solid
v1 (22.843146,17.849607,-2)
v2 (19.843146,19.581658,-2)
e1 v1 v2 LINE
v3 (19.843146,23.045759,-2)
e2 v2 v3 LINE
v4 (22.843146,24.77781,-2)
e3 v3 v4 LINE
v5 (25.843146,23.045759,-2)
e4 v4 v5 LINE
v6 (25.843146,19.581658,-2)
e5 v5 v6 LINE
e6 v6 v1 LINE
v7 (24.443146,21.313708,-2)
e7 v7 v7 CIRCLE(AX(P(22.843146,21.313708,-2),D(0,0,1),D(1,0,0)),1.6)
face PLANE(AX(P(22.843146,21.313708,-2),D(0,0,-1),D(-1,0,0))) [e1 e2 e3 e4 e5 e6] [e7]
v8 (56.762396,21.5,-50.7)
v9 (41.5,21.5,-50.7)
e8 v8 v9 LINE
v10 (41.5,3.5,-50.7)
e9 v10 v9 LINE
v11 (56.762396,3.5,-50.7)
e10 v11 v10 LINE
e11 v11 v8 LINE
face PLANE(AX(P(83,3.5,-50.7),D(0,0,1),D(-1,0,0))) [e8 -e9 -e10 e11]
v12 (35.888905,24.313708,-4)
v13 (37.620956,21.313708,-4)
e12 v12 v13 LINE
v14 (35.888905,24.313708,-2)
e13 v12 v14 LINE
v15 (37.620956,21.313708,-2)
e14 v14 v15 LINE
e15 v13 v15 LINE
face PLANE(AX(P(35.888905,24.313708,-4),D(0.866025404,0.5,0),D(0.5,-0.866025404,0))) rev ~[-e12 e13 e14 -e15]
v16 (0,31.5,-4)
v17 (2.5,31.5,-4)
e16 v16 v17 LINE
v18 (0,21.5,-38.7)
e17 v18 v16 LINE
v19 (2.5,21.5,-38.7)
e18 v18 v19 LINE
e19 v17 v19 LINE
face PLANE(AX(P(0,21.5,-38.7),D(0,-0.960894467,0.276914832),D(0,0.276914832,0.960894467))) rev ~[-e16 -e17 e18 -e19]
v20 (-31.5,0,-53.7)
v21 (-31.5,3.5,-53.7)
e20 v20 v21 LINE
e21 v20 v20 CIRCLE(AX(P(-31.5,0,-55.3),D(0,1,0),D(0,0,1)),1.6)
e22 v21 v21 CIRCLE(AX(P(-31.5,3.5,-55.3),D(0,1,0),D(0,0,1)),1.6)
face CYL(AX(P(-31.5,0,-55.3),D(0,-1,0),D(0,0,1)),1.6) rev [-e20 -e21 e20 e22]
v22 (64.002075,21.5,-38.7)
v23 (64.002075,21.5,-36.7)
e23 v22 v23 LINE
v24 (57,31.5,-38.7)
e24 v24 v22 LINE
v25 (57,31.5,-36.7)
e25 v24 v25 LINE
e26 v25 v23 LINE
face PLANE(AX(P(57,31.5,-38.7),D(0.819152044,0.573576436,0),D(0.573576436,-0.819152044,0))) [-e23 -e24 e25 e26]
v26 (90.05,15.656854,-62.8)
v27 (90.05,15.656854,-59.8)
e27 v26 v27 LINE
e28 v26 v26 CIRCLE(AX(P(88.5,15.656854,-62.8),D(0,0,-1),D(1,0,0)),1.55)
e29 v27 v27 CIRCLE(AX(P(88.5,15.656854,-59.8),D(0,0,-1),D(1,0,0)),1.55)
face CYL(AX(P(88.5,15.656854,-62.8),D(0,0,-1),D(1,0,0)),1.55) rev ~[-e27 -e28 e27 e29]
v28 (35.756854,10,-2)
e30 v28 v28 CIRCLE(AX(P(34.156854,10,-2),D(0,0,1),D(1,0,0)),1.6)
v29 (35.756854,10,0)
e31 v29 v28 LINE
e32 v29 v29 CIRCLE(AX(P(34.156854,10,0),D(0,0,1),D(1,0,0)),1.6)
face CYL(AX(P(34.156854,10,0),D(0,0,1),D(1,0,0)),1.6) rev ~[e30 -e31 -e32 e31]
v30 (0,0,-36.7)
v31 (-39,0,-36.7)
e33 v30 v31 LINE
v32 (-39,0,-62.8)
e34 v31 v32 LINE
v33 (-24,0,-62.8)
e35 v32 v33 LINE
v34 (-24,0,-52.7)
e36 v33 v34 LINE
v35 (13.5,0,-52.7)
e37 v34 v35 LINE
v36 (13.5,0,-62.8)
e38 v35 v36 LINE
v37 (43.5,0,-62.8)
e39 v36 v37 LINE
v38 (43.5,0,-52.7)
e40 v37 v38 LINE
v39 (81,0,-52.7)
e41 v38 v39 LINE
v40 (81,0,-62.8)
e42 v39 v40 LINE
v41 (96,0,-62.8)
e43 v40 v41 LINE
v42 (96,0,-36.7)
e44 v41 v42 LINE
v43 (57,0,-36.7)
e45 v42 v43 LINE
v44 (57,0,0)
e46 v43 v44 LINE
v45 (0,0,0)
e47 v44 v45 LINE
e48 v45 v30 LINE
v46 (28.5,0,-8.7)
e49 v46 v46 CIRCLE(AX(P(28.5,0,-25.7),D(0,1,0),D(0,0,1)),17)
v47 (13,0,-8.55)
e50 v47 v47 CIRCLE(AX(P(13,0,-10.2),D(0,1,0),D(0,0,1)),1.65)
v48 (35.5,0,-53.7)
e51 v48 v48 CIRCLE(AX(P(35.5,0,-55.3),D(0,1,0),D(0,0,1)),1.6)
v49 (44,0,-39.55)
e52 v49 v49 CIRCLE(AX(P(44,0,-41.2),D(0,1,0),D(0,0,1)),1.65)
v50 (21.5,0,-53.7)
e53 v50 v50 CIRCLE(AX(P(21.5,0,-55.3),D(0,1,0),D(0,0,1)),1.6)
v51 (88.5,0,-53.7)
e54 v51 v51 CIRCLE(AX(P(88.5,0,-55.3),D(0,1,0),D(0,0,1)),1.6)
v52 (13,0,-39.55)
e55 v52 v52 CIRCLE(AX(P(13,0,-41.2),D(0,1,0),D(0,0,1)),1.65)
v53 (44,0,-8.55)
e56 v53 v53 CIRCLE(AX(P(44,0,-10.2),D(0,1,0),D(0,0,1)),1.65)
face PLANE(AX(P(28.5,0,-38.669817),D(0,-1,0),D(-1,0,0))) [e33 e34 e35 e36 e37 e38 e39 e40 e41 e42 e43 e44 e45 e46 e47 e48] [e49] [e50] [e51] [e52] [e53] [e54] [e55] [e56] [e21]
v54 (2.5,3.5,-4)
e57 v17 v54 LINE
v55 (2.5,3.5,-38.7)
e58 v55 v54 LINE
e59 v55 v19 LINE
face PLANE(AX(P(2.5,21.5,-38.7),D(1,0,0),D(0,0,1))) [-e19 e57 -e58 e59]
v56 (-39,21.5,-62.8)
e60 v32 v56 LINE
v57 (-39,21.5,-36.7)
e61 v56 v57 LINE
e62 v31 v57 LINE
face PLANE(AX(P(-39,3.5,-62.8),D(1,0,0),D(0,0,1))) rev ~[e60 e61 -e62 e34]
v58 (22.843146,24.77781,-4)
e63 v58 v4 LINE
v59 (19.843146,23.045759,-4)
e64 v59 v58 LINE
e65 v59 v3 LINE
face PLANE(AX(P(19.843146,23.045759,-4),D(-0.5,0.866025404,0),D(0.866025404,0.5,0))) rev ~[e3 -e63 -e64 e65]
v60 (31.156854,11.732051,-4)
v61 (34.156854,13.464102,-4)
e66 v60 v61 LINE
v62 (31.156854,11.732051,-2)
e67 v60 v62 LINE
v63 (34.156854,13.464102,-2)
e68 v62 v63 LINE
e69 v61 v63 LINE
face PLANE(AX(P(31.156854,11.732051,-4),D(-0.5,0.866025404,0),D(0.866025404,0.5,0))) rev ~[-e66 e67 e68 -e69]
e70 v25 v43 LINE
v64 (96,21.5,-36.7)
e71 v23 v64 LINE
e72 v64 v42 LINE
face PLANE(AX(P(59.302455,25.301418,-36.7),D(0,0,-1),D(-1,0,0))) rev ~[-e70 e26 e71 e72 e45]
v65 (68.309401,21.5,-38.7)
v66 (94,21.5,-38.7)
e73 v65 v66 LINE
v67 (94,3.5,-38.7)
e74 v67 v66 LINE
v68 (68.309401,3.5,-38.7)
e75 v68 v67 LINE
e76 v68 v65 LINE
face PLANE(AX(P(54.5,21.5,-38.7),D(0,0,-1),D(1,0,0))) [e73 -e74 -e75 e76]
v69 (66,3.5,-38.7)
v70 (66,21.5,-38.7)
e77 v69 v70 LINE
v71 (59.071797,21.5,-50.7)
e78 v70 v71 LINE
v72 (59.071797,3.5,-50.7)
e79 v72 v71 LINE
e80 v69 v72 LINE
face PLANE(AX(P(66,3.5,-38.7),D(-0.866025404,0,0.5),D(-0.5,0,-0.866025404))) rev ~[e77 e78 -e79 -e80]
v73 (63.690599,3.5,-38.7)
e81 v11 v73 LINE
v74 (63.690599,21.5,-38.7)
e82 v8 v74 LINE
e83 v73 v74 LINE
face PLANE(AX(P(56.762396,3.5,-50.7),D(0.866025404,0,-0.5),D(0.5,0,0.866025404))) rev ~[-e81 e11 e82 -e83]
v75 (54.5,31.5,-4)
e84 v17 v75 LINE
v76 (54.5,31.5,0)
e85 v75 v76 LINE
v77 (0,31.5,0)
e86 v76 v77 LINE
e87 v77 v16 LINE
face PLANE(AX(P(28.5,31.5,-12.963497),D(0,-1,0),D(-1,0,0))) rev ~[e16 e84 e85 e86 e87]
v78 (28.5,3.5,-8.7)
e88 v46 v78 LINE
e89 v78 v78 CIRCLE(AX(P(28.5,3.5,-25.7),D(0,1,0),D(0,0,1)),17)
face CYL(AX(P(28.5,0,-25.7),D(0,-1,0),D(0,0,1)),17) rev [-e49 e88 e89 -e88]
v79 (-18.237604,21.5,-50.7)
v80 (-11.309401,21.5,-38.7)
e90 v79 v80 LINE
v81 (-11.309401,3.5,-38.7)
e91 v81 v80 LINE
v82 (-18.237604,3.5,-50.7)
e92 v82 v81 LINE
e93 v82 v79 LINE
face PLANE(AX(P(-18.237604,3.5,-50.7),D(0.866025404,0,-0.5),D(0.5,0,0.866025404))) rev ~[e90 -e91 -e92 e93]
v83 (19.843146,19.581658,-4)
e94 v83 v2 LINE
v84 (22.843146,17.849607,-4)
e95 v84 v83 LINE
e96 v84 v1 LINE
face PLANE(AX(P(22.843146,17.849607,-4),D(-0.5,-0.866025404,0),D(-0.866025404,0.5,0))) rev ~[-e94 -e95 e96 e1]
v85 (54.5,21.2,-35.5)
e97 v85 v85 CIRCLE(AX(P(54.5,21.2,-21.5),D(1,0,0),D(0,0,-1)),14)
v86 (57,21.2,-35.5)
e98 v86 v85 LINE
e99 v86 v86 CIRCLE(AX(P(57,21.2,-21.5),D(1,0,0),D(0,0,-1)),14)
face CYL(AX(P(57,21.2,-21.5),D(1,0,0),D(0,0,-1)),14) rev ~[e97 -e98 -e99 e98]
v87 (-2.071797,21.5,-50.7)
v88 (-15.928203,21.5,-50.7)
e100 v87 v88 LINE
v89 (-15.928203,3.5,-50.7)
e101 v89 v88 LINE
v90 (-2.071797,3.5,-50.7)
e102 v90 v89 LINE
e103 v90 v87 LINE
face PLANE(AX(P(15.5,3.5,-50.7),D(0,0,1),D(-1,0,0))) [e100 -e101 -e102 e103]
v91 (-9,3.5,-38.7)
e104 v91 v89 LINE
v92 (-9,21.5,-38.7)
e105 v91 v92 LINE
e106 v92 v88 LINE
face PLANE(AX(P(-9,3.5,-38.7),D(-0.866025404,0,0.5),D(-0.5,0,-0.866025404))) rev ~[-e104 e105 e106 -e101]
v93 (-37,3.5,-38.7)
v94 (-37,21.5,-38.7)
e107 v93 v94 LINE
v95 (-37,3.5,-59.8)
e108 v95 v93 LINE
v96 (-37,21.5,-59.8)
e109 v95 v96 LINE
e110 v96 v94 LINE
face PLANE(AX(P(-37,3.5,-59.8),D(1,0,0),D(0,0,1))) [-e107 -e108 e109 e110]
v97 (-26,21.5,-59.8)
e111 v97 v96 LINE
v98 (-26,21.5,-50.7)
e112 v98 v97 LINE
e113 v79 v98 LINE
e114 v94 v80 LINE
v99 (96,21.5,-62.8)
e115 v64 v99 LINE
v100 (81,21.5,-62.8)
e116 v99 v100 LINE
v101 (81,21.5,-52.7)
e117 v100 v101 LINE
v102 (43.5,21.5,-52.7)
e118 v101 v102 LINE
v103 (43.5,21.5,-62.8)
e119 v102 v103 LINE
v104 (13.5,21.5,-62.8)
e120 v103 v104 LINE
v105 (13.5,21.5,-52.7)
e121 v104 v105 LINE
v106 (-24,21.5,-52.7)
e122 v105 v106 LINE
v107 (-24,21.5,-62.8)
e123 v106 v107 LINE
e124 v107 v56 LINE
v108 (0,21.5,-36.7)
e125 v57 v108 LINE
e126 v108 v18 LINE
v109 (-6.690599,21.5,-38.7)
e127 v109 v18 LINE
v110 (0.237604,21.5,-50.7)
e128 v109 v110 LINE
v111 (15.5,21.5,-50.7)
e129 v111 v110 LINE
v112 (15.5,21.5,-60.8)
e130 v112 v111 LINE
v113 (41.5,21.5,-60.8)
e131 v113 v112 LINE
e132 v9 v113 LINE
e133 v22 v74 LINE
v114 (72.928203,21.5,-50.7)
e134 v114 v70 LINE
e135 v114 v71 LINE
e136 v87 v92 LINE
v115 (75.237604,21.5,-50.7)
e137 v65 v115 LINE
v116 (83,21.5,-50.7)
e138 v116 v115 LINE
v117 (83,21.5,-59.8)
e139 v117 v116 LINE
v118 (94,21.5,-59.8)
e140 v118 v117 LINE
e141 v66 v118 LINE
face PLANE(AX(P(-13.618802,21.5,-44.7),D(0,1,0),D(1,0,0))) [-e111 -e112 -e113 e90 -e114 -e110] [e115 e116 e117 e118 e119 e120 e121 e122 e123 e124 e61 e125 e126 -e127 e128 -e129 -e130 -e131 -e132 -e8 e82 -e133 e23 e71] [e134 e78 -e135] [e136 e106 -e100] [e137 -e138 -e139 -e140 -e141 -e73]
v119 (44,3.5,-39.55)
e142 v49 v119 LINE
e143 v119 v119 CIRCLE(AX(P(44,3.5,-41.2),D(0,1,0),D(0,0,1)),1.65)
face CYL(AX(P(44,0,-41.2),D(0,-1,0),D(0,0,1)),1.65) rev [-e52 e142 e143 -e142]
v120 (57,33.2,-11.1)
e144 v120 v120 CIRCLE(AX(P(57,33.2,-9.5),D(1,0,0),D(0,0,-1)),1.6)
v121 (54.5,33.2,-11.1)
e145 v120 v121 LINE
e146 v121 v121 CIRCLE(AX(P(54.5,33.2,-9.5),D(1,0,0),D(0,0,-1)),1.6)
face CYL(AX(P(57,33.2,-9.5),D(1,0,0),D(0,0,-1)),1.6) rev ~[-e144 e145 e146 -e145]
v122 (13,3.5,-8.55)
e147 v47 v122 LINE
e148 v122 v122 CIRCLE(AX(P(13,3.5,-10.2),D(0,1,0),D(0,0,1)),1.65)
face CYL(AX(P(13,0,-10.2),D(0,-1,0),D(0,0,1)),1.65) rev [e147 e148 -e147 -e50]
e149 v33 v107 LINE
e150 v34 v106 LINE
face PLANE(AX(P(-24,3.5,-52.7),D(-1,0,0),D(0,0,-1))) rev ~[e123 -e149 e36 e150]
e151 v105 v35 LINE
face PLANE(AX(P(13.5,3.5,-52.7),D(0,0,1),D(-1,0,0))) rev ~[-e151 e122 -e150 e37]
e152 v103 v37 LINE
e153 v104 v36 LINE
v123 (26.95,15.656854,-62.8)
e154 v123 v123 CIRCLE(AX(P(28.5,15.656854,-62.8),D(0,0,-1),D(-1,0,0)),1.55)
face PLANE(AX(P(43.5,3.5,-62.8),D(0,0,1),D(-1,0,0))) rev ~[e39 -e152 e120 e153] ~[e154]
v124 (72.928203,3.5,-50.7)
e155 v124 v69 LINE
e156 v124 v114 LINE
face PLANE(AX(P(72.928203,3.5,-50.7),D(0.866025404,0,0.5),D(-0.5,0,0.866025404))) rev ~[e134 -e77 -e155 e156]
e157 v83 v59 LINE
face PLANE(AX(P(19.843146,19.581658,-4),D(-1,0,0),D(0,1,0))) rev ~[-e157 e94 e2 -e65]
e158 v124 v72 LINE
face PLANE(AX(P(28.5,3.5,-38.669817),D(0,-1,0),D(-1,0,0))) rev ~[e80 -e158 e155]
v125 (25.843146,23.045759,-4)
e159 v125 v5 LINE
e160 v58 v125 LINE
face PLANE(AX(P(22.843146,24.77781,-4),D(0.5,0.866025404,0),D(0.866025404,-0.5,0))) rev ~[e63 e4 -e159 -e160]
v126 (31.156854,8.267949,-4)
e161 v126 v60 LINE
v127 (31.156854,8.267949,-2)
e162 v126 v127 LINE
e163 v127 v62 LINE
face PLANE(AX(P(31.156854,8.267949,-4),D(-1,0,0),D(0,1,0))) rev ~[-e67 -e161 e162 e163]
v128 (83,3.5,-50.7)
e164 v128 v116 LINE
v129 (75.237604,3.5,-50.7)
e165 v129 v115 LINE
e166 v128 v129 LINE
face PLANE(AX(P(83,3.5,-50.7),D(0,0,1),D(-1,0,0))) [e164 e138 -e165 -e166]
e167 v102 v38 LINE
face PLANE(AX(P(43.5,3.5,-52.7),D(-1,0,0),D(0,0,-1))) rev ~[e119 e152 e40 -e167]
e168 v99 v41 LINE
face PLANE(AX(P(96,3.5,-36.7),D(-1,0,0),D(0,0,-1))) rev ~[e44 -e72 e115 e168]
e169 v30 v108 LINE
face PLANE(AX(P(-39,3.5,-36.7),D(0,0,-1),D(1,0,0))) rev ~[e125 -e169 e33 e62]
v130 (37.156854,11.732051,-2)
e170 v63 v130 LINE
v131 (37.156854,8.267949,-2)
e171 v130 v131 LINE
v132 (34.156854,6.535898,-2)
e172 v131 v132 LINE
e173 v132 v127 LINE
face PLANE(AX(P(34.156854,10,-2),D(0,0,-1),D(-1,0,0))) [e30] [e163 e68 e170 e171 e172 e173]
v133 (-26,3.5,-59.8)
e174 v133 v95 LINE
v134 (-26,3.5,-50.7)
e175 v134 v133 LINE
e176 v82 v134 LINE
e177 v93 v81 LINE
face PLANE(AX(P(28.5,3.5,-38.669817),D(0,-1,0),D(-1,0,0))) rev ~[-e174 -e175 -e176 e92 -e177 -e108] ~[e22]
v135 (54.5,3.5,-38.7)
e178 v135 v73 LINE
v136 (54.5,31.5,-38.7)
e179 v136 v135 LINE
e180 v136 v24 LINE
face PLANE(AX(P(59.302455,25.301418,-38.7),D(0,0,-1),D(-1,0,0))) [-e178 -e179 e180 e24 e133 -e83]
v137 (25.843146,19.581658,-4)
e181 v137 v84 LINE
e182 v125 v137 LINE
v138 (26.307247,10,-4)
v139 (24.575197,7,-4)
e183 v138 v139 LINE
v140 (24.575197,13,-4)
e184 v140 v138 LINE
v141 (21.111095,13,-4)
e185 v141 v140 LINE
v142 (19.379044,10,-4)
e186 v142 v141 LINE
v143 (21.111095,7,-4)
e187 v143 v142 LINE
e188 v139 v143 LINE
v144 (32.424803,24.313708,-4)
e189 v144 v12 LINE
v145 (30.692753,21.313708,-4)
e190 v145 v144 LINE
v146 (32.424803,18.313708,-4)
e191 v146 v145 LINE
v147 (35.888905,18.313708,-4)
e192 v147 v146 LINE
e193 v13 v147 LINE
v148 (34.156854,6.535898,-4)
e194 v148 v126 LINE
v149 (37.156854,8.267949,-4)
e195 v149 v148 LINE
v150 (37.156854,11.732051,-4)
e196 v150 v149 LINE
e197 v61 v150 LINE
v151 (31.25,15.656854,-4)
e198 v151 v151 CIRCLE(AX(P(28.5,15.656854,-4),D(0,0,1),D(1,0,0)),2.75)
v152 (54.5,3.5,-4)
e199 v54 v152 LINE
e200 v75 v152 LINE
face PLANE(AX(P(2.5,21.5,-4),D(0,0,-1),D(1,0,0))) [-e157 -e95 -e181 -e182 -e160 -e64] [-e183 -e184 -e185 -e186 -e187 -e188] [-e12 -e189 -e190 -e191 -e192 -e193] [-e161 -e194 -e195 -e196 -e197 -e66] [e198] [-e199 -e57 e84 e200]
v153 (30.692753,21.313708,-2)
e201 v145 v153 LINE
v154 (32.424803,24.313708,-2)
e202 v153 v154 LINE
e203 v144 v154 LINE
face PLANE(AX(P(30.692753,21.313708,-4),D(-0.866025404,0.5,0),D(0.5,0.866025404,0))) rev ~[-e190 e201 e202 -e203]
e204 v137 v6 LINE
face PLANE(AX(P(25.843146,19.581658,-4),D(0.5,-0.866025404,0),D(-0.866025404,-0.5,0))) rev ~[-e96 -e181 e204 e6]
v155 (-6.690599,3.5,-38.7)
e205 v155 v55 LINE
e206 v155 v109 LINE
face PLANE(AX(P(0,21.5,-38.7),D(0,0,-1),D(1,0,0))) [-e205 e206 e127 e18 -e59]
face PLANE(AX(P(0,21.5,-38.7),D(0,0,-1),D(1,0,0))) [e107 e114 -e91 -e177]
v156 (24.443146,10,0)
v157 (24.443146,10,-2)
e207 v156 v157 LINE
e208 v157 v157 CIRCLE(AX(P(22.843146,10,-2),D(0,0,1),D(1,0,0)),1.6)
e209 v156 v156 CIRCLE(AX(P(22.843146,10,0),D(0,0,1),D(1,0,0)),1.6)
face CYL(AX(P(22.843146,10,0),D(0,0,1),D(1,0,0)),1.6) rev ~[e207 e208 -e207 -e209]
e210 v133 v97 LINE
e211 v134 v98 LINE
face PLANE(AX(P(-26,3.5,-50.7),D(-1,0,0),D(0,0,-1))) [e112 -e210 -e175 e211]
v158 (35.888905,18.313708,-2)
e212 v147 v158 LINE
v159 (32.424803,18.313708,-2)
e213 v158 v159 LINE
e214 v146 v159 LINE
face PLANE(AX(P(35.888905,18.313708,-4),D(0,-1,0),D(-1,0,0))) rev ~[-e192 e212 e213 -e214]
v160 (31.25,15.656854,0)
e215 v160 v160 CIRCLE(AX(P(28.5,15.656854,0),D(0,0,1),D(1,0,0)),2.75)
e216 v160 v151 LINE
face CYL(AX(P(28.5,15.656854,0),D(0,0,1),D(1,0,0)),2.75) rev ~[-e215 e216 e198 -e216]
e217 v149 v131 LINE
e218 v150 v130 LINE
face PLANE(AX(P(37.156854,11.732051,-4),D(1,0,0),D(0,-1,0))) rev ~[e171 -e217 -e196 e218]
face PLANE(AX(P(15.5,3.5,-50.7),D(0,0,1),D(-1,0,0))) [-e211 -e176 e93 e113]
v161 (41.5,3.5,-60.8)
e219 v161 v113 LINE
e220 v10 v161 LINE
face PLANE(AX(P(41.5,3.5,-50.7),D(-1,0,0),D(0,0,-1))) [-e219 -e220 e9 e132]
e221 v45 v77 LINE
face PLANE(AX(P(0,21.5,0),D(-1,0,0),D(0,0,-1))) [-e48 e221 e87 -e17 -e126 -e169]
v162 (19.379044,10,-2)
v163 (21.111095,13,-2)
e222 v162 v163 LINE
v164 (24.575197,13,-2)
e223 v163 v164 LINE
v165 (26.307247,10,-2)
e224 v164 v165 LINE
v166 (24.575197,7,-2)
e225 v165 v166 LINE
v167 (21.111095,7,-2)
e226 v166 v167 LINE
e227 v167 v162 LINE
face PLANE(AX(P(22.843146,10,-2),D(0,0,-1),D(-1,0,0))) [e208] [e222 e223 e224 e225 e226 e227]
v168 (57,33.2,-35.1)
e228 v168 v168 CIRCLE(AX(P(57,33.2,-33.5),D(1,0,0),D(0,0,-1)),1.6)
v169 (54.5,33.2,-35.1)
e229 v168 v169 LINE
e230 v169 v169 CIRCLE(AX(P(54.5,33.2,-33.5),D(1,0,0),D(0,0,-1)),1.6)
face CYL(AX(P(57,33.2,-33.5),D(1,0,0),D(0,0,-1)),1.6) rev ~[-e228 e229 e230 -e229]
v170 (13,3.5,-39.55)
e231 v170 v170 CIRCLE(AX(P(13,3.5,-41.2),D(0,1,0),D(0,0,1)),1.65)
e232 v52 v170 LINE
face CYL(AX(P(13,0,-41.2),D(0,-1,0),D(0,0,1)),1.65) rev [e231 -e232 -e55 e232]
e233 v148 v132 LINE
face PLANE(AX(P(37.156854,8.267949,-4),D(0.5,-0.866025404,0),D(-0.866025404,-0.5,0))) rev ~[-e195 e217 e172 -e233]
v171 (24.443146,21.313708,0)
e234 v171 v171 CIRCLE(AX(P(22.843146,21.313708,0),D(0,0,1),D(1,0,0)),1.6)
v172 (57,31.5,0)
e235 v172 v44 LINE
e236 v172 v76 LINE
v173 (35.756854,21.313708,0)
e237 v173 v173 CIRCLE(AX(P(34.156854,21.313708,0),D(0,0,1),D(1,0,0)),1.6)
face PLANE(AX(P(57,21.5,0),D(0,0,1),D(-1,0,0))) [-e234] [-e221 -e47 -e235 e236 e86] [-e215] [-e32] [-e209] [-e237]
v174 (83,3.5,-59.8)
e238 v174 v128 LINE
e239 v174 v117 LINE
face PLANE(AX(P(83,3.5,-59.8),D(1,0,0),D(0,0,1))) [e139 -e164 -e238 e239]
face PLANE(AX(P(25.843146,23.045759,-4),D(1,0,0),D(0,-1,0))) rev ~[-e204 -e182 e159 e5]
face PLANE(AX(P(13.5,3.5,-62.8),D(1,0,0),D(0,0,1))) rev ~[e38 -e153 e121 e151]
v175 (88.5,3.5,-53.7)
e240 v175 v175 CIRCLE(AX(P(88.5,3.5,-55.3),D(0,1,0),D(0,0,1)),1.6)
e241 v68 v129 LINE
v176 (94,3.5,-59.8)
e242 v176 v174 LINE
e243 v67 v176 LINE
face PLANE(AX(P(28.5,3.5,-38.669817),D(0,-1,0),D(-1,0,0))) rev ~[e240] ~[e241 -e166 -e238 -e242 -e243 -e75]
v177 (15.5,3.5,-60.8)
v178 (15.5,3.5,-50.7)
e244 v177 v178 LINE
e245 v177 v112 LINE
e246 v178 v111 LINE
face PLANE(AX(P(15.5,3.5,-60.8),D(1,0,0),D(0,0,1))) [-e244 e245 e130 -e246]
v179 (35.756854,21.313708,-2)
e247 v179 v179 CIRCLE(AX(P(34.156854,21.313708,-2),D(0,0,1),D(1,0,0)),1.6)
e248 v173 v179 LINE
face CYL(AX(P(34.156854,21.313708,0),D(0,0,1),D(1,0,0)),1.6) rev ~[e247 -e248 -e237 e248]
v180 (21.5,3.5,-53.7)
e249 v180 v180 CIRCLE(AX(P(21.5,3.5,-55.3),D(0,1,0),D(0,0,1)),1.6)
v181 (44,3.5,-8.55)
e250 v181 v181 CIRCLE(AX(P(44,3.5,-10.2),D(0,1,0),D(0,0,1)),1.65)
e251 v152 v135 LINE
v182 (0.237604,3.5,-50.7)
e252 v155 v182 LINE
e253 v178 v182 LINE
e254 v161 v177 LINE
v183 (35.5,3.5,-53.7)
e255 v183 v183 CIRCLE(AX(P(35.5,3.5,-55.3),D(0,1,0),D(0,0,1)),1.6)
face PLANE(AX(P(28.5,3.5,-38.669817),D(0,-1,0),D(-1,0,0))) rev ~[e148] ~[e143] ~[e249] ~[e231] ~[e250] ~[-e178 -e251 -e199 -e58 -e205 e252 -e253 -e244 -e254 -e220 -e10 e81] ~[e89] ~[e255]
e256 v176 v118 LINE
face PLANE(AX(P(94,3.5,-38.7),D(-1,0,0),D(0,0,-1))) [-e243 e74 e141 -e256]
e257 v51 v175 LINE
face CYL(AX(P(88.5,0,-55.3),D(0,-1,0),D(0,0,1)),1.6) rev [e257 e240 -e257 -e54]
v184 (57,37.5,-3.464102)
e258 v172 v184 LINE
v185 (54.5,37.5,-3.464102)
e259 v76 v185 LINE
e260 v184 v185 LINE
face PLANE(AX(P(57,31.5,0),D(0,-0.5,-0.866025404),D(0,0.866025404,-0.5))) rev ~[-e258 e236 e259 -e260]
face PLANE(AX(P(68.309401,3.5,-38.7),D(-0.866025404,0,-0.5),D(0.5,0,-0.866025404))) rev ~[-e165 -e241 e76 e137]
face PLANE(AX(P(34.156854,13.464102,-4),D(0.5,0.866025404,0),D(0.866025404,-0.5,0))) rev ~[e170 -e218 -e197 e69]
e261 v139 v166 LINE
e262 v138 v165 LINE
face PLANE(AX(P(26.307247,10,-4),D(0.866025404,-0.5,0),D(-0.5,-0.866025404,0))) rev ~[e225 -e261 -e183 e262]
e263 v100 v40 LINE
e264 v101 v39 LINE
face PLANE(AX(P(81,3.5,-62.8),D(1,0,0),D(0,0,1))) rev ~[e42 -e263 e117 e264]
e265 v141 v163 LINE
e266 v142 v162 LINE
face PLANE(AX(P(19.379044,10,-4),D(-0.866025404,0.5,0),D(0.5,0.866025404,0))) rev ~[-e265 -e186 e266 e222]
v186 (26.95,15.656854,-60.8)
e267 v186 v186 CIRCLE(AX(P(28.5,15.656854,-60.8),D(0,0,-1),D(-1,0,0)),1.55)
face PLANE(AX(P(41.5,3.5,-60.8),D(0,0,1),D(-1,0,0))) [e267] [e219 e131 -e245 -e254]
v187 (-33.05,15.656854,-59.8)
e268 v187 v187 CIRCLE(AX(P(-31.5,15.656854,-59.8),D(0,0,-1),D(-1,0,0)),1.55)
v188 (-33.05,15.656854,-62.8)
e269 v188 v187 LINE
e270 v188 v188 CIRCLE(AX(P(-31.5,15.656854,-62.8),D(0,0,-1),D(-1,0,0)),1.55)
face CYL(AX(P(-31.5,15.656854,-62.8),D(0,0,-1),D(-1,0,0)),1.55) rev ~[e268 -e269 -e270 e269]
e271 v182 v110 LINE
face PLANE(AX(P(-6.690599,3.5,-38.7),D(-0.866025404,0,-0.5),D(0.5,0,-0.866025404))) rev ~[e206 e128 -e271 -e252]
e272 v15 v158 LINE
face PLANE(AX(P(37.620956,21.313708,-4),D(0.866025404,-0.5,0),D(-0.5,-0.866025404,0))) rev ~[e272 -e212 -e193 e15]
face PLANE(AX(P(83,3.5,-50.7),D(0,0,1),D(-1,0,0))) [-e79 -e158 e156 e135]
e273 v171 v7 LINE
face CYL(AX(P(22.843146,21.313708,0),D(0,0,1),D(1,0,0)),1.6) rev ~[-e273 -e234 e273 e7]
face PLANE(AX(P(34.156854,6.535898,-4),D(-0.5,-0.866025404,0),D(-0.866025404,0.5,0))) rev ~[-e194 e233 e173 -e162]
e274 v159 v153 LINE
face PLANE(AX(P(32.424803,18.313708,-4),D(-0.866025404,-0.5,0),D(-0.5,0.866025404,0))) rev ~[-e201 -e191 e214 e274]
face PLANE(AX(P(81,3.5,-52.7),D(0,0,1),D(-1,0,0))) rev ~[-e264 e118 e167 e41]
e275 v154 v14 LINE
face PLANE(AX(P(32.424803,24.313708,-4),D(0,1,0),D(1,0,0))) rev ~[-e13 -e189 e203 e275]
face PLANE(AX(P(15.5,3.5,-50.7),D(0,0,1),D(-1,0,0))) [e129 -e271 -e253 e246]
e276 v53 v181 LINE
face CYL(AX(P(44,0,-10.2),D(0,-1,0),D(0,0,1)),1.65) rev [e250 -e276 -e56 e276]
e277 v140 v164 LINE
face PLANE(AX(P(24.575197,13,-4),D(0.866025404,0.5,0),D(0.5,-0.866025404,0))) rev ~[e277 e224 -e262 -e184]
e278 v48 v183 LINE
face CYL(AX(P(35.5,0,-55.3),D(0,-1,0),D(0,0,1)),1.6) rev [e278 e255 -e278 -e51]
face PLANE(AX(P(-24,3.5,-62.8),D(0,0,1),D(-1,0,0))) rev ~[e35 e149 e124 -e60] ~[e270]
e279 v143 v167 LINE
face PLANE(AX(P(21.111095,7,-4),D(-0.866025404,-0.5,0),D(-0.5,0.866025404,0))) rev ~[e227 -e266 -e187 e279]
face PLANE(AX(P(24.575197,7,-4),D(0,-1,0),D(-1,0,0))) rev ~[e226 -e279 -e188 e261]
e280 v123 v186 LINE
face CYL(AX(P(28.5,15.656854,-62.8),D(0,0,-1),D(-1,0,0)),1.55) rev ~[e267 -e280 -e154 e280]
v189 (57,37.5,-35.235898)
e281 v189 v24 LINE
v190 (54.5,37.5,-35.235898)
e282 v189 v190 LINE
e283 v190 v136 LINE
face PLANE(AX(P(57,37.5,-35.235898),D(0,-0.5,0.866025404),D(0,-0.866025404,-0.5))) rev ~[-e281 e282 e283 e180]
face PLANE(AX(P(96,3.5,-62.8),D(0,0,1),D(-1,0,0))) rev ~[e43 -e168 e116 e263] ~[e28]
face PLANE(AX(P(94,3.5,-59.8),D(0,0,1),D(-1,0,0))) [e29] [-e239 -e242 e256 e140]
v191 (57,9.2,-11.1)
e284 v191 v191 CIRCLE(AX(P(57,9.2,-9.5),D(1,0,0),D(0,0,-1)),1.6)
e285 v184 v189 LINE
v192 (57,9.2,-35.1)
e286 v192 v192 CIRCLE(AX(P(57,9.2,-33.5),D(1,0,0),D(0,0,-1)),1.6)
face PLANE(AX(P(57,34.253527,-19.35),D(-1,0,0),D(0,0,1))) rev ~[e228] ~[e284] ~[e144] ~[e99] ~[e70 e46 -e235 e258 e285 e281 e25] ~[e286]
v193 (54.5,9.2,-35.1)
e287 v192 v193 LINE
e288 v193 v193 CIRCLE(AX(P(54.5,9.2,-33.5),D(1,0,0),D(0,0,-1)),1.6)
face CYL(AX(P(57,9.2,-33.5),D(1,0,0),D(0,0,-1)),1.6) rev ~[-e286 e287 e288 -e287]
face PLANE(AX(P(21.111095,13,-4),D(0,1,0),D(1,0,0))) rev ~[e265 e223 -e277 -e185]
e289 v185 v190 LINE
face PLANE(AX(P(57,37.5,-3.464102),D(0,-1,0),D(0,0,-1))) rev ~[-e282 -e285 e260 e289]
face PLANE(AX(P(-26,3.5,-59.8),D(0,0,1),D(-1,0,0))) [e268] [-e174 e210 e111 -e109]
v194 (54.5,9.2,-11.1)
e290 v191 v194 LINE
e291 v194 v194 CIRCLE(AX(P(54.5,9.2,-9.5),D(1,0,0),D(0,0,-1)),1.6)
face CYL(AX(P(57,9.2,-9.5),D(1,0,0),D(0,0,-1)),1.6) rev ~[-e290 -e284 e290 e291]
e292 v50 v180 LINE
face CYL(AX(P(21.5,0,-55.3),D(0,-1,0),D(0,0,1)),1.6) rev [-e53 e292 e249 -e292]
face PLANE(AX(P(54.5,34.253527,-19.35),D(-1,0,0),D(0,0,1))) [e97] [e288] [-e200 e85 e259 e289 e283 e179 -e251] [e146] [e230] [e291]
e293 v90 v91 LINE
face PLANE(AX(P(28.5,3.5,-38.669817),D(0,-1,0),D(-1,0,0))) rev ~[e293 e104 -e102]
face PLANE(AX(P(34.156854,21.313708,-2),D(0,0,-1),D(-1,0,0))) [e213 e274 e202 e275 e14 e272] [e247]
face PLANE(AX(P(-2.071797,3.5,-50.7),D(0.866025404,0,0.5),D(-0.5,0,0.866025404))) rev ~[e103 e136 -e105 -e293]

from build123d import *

# Parameters (mm, degrees)
SKETCH_2_R          = 1.6
SKETCH_2_R_2        = 17
SKETCH_2_R_3        = 1.65
EXTRUDE_2_DEPTH     = 3.5
EXTRUDE_3_DEPTH     = 18
EXTRUDE_4_DEPTH     = 10
CUT_EXTRUDE_5_DEPTH = 3
SKETCH_10_R         = 2.75
SKETCH_10_R_2       = 1.6
CUT_EXTRUDE_4_DEPTH = 5
EXTRUDE_5_DEPTH     = 18
SKETCH_14_R         = 1.55
CUT_EXTRUDE_6_DEPTH = 10
CUT_EXTRUDE_7_DEPTH = 2
EXTRUDE_6_DEPTH     = 2
EXTRUDE_7_DEPTH     = 2.5
SKETCH_21_R         = 1.6
SKETCH_21_R_2       = 14
CUT_EXTRUDE_8_DEPTH = 3


with BuildPart() as part:
    # 草图2 → 凸台-拉伸2 (new body)
    with BuildSketch(Plane(origin=(0, 0, 0), x_dir=(1, 0, 0), z_dir=(0, 1, 0))):
        Polygon((-39, 36.7), (-39, 62.8), (-24, 62.8), (-24, 52.7), (13.5, 52.7), (13.5, 62.8), (43.5, 62.8), (43.5, 52.7), (81, 52.7), (81, 62.8), (96, 62.8), (96, 36.7), (57, 36.7), (57, 0), (0, 0), (0, 36.7), align=None)
        with Locations(Location((-31.5, 55.3, 0), (0, 0, 270))):
            Circle(SKETCH_2_R, mode=Mode.SUBTRACT)
        with Locations(Location((88.5, 55.3, 0), (0, 0, 270))):
            Circle(SKETCH_2_R, mode=Mode.SUBTRACT)
        with Locations(Location((21.5, 55.3, 0), (0, 0, 270))):
            Circle(SKETCH_2_R, mode=Mode.SUBTRACT)
        with Locations(Location((35.5, 55.3, 0), (0, 0, 270))):
            Circle(SKETCH_2_R, mode=Mode.SUBTRACT)
        with Locations(Location((28.5, 25.7, 0), (0, 0, 270))):
            Circle(SKETCH_2_R_2, mode=Mode.SUBTRACT)
        with Locations(Location((44, 41.2, 0), (0, 0, 270))):
            Circle(SKETCH_2_R_3, mode=Mode.SUBTRACT)
        with Locations(Location((44, 10.2, 0), (0, 0, 270))):
            Circle(SKETCH_2_R_3, mode=Mode.SUBTRACT)
        with Locations(Location((13, 10.2, 0), (0, 0, 270))):
            Circle(SKETCH_2_R_3, mode=Mode.SUBTRACT)
        with Locations(Location((13, 41.2, 0), (0, 0, 270))):
            Circle(SKETCH_2_R_3, mode=Mode.SUBTRACT)
    extrude(amount=EXTRUDE_2_DEPTH)

    # 草图6 → 凸台-拉伸3 (add)
    with BuildSketch(Plane(origin=(0, 3.5, 0), x_dir=(1, 0, 0), z_dir=(0, 1, 0))):
        Polygon((13.5, 52.7), (-24, 52.7), (-24, 62.8), (-39, 62.8), (-39, 36.7), (0, 36.7), (0, 0), (57, 0), (57, 36.7), (96, 36.7), (96, 62.8), (81, 62.8), (81, 52.7), (43.5, 52.7), (43.5, 62.8), (13.5, 62.8), align=None)
        Polygon((15.5, 50.7), (-26, 50.7), (-26, 59.8), (-37, 59.8), (-37, 38.7), (2.5, 38.7), (2.5, 4), (54.5, 4), (54.5, 38.7), (94, 38.7), (94, 59.8), (83, 59.8), (83, 50.7), (41.5, 50.7), (41.5, 60.8), (15.5, 60.8), align=None, mode=Mode.SUBTRACT)
    extrude(amount=EXTRUDE_3_DEPTH)

    # 草图11 → 凸台-拉伸4 (add)
    with BuildSketch(Plane(origin=(0, 21.5, 0), x_dir=(1, 0, 0), z_dir=(0, 1, 0))):
        Polygon((2.5, 38.7), (2.5, 4), (54.5, 4), (54.5, 38.7), (57, 38.7), (57, 0), (0, 0), (0, 38.7), align=None)
    extrude(amount=EXTRUDE_4_DEPTH)

    # 草图12 → 切除-拉伸5 (cut)
    with BuildSketch(Plane.ZY):
        Polygon((-38.7, 21.5), (-4, 31.5), (-38.7, 31.5), align=None)
    extrude(amount=-CUT_EXTRUDE_5_DEPTH, mode=Mode.SUBTRACT)

    # 草图10 → 切除-拉伸4 (cut)
    with BuildSketch(Plane.XY):
        with Locations((28.5, 15.656854249)):
            Circle(SKETCH_10_R)
        with Locations((34.156854249, 21.313708499)):
            Circle(SKETCH_10_R_2)
        with Locations((34.156854249, 10)):
            Circle(SKETCH_10_R_2)
        with Locations((22.843145751, 10)):
            Circle(SKETCH_10_R_2)
        with Locations((22.843145751, 21.313708499)):
            Circle(SKETCH_10_R_2)
    extrude(amount=-CUT_EXTRUDE_4_DEPTH, mode=Mode.SUBTRACT)

    # 草图13 → 凸台-拉伸5 (add)
    with BuildSketch(Plane(origin=(0, 3.5, 0), x_dir=(1, 0, 0), z_dir=(0, 1, 0))):
        Polygon((-9, 38.7), (-15.92820323, 50.7), (-18.237604307, 50.7), (-11.309401077, 38.7), align=None)
        Polygon((-2.07179677, 50.7), (-9, 38.7), (-6.690598923, 38.7), (0.237604307, 50.7), align=None)
        Polygon((56.762395693, 50.7), (63.690598923, 38.7), (66, 38.7), (59.07179677, 50.7), align=None)
        Polygon((72.92820323, 50.7), (66, 38.7), (68.309401077, 38.7), (75.237604307, 50.7), align=None)
    extrude(amount=EXTRUDE_5_DEPTH)

    # 草图14 → 切除-拉伸6 (cut)
    with BuildSketch(Plane(origin=(0, 0, -62.8), x_dir=(-1, 0, 0), z_dir=(0, 0, -1))):
        with Locations((31.5, 15.656854249)):
            Circle(SKETCH_14_R)
        with Locations(Location((-88.5, 15.656854249, 0), (0, 0, 180))):
            Circle(SKETCH_14_R)
        with Locations((-28.5, 15.656854249)):
            Circle(SKETCH_14_R)
    extrude(amount=-CUT_EXTRUDE_6_DEPTH, mode=Mode.SUBTRACT)

    # 草图20 → 切除-拉伸7 (cut)
    with BuildSketch(Plane(origin=(0, 0, -4), x_dir=(-1, 0, 0), z_dir=(0, 0, -1))):
        Polygon((-25.843145751, 19.581657691), (-22.843145751, 17.849606884), (-19.843145751, 19.581657691), (-19.843145751, 23.045759307), (-22.843145751, 24.777810114), (-25.843145751, 23.045759307), align=None)
        Polygon((-32.424803442, 18.313708499), (-30.692752634, 21.313708499), (-32.424803442, 24.313708499), (-35.888905057, 24.313708499), (-37.620955865, 21.313708499), (-35.888905057, 18.313708499), align=None)
        Polygon((-24.575196558, 13), (-26.307247366, 10), (-24.575196558, 7), (-21.111094943, 7), (-19.379044135, 10), (-21.111094943, 13), align=None)
        Polygon((-31.156854249, 11.732050808), (-34.156854249, 13.464101615), (-37.156854249, 11.732050808), (-37.156854249, 8.267949192), (-34.156854249, 6.535898385), (-31.156854249, 8.267949192), align=None)
    extrude(amount=-CUT_EXTRUDE_7_DEPTH, mode=Mode.SUBTRACT)

    # 草图22 → 凸台-拉伸6 (add)
    with BuildSketch(Plane(origin=(0, 0, -38.7), x_dir=(-1, 0, 0), z_dir=(0, 0, -1))):
        Polygon((-57, 31.5), (-64.002075382, 21.5), (-57, 21.5), align=None)
    extrude(amount=-EXTRUDE_6_DEPTH)

    # 草图24 → 凸台-拉伸7 (add)
    with BuildSketch(Plane(origin=(57, 0, 0), x_dir=(0, 0, -1), z_dir=(1, 0, 0))):
        Polygon((0, 31.5), (3.464101615, 37.5), (35.235898385, 37.5), (38.7, 31.5), align=None)
    extrude(amount=-EXTRUDE_7_DEPTH)

    # 草图21 → 切除-拉伸8 (cut)
    with BuildSketch(Plane(origin=(57, 0, 0), x_dir=(0, 0, -1), z_dir=(1, 0, 0))):
        with Locations((9.5, 33.2)):
            Circle(SKETCH_21_R)
        with Locations((33.5, 33.2)):
            Circle(SKETCH_21_R)
        with Locations((33.5, 9.2)):
            Circle(SKETCH_21_R)
        with Locations((9.5, 9.2)):
            Circle(SKETCH_21_R)
        with Locations((21.5, 21.2)):
            Circle(SKETCH_21_R_2)
    extrude(amount=-CUT_EXTRUDE_8_DEPTH, mode=Mode.SUBTRACT)


solid = part.part
